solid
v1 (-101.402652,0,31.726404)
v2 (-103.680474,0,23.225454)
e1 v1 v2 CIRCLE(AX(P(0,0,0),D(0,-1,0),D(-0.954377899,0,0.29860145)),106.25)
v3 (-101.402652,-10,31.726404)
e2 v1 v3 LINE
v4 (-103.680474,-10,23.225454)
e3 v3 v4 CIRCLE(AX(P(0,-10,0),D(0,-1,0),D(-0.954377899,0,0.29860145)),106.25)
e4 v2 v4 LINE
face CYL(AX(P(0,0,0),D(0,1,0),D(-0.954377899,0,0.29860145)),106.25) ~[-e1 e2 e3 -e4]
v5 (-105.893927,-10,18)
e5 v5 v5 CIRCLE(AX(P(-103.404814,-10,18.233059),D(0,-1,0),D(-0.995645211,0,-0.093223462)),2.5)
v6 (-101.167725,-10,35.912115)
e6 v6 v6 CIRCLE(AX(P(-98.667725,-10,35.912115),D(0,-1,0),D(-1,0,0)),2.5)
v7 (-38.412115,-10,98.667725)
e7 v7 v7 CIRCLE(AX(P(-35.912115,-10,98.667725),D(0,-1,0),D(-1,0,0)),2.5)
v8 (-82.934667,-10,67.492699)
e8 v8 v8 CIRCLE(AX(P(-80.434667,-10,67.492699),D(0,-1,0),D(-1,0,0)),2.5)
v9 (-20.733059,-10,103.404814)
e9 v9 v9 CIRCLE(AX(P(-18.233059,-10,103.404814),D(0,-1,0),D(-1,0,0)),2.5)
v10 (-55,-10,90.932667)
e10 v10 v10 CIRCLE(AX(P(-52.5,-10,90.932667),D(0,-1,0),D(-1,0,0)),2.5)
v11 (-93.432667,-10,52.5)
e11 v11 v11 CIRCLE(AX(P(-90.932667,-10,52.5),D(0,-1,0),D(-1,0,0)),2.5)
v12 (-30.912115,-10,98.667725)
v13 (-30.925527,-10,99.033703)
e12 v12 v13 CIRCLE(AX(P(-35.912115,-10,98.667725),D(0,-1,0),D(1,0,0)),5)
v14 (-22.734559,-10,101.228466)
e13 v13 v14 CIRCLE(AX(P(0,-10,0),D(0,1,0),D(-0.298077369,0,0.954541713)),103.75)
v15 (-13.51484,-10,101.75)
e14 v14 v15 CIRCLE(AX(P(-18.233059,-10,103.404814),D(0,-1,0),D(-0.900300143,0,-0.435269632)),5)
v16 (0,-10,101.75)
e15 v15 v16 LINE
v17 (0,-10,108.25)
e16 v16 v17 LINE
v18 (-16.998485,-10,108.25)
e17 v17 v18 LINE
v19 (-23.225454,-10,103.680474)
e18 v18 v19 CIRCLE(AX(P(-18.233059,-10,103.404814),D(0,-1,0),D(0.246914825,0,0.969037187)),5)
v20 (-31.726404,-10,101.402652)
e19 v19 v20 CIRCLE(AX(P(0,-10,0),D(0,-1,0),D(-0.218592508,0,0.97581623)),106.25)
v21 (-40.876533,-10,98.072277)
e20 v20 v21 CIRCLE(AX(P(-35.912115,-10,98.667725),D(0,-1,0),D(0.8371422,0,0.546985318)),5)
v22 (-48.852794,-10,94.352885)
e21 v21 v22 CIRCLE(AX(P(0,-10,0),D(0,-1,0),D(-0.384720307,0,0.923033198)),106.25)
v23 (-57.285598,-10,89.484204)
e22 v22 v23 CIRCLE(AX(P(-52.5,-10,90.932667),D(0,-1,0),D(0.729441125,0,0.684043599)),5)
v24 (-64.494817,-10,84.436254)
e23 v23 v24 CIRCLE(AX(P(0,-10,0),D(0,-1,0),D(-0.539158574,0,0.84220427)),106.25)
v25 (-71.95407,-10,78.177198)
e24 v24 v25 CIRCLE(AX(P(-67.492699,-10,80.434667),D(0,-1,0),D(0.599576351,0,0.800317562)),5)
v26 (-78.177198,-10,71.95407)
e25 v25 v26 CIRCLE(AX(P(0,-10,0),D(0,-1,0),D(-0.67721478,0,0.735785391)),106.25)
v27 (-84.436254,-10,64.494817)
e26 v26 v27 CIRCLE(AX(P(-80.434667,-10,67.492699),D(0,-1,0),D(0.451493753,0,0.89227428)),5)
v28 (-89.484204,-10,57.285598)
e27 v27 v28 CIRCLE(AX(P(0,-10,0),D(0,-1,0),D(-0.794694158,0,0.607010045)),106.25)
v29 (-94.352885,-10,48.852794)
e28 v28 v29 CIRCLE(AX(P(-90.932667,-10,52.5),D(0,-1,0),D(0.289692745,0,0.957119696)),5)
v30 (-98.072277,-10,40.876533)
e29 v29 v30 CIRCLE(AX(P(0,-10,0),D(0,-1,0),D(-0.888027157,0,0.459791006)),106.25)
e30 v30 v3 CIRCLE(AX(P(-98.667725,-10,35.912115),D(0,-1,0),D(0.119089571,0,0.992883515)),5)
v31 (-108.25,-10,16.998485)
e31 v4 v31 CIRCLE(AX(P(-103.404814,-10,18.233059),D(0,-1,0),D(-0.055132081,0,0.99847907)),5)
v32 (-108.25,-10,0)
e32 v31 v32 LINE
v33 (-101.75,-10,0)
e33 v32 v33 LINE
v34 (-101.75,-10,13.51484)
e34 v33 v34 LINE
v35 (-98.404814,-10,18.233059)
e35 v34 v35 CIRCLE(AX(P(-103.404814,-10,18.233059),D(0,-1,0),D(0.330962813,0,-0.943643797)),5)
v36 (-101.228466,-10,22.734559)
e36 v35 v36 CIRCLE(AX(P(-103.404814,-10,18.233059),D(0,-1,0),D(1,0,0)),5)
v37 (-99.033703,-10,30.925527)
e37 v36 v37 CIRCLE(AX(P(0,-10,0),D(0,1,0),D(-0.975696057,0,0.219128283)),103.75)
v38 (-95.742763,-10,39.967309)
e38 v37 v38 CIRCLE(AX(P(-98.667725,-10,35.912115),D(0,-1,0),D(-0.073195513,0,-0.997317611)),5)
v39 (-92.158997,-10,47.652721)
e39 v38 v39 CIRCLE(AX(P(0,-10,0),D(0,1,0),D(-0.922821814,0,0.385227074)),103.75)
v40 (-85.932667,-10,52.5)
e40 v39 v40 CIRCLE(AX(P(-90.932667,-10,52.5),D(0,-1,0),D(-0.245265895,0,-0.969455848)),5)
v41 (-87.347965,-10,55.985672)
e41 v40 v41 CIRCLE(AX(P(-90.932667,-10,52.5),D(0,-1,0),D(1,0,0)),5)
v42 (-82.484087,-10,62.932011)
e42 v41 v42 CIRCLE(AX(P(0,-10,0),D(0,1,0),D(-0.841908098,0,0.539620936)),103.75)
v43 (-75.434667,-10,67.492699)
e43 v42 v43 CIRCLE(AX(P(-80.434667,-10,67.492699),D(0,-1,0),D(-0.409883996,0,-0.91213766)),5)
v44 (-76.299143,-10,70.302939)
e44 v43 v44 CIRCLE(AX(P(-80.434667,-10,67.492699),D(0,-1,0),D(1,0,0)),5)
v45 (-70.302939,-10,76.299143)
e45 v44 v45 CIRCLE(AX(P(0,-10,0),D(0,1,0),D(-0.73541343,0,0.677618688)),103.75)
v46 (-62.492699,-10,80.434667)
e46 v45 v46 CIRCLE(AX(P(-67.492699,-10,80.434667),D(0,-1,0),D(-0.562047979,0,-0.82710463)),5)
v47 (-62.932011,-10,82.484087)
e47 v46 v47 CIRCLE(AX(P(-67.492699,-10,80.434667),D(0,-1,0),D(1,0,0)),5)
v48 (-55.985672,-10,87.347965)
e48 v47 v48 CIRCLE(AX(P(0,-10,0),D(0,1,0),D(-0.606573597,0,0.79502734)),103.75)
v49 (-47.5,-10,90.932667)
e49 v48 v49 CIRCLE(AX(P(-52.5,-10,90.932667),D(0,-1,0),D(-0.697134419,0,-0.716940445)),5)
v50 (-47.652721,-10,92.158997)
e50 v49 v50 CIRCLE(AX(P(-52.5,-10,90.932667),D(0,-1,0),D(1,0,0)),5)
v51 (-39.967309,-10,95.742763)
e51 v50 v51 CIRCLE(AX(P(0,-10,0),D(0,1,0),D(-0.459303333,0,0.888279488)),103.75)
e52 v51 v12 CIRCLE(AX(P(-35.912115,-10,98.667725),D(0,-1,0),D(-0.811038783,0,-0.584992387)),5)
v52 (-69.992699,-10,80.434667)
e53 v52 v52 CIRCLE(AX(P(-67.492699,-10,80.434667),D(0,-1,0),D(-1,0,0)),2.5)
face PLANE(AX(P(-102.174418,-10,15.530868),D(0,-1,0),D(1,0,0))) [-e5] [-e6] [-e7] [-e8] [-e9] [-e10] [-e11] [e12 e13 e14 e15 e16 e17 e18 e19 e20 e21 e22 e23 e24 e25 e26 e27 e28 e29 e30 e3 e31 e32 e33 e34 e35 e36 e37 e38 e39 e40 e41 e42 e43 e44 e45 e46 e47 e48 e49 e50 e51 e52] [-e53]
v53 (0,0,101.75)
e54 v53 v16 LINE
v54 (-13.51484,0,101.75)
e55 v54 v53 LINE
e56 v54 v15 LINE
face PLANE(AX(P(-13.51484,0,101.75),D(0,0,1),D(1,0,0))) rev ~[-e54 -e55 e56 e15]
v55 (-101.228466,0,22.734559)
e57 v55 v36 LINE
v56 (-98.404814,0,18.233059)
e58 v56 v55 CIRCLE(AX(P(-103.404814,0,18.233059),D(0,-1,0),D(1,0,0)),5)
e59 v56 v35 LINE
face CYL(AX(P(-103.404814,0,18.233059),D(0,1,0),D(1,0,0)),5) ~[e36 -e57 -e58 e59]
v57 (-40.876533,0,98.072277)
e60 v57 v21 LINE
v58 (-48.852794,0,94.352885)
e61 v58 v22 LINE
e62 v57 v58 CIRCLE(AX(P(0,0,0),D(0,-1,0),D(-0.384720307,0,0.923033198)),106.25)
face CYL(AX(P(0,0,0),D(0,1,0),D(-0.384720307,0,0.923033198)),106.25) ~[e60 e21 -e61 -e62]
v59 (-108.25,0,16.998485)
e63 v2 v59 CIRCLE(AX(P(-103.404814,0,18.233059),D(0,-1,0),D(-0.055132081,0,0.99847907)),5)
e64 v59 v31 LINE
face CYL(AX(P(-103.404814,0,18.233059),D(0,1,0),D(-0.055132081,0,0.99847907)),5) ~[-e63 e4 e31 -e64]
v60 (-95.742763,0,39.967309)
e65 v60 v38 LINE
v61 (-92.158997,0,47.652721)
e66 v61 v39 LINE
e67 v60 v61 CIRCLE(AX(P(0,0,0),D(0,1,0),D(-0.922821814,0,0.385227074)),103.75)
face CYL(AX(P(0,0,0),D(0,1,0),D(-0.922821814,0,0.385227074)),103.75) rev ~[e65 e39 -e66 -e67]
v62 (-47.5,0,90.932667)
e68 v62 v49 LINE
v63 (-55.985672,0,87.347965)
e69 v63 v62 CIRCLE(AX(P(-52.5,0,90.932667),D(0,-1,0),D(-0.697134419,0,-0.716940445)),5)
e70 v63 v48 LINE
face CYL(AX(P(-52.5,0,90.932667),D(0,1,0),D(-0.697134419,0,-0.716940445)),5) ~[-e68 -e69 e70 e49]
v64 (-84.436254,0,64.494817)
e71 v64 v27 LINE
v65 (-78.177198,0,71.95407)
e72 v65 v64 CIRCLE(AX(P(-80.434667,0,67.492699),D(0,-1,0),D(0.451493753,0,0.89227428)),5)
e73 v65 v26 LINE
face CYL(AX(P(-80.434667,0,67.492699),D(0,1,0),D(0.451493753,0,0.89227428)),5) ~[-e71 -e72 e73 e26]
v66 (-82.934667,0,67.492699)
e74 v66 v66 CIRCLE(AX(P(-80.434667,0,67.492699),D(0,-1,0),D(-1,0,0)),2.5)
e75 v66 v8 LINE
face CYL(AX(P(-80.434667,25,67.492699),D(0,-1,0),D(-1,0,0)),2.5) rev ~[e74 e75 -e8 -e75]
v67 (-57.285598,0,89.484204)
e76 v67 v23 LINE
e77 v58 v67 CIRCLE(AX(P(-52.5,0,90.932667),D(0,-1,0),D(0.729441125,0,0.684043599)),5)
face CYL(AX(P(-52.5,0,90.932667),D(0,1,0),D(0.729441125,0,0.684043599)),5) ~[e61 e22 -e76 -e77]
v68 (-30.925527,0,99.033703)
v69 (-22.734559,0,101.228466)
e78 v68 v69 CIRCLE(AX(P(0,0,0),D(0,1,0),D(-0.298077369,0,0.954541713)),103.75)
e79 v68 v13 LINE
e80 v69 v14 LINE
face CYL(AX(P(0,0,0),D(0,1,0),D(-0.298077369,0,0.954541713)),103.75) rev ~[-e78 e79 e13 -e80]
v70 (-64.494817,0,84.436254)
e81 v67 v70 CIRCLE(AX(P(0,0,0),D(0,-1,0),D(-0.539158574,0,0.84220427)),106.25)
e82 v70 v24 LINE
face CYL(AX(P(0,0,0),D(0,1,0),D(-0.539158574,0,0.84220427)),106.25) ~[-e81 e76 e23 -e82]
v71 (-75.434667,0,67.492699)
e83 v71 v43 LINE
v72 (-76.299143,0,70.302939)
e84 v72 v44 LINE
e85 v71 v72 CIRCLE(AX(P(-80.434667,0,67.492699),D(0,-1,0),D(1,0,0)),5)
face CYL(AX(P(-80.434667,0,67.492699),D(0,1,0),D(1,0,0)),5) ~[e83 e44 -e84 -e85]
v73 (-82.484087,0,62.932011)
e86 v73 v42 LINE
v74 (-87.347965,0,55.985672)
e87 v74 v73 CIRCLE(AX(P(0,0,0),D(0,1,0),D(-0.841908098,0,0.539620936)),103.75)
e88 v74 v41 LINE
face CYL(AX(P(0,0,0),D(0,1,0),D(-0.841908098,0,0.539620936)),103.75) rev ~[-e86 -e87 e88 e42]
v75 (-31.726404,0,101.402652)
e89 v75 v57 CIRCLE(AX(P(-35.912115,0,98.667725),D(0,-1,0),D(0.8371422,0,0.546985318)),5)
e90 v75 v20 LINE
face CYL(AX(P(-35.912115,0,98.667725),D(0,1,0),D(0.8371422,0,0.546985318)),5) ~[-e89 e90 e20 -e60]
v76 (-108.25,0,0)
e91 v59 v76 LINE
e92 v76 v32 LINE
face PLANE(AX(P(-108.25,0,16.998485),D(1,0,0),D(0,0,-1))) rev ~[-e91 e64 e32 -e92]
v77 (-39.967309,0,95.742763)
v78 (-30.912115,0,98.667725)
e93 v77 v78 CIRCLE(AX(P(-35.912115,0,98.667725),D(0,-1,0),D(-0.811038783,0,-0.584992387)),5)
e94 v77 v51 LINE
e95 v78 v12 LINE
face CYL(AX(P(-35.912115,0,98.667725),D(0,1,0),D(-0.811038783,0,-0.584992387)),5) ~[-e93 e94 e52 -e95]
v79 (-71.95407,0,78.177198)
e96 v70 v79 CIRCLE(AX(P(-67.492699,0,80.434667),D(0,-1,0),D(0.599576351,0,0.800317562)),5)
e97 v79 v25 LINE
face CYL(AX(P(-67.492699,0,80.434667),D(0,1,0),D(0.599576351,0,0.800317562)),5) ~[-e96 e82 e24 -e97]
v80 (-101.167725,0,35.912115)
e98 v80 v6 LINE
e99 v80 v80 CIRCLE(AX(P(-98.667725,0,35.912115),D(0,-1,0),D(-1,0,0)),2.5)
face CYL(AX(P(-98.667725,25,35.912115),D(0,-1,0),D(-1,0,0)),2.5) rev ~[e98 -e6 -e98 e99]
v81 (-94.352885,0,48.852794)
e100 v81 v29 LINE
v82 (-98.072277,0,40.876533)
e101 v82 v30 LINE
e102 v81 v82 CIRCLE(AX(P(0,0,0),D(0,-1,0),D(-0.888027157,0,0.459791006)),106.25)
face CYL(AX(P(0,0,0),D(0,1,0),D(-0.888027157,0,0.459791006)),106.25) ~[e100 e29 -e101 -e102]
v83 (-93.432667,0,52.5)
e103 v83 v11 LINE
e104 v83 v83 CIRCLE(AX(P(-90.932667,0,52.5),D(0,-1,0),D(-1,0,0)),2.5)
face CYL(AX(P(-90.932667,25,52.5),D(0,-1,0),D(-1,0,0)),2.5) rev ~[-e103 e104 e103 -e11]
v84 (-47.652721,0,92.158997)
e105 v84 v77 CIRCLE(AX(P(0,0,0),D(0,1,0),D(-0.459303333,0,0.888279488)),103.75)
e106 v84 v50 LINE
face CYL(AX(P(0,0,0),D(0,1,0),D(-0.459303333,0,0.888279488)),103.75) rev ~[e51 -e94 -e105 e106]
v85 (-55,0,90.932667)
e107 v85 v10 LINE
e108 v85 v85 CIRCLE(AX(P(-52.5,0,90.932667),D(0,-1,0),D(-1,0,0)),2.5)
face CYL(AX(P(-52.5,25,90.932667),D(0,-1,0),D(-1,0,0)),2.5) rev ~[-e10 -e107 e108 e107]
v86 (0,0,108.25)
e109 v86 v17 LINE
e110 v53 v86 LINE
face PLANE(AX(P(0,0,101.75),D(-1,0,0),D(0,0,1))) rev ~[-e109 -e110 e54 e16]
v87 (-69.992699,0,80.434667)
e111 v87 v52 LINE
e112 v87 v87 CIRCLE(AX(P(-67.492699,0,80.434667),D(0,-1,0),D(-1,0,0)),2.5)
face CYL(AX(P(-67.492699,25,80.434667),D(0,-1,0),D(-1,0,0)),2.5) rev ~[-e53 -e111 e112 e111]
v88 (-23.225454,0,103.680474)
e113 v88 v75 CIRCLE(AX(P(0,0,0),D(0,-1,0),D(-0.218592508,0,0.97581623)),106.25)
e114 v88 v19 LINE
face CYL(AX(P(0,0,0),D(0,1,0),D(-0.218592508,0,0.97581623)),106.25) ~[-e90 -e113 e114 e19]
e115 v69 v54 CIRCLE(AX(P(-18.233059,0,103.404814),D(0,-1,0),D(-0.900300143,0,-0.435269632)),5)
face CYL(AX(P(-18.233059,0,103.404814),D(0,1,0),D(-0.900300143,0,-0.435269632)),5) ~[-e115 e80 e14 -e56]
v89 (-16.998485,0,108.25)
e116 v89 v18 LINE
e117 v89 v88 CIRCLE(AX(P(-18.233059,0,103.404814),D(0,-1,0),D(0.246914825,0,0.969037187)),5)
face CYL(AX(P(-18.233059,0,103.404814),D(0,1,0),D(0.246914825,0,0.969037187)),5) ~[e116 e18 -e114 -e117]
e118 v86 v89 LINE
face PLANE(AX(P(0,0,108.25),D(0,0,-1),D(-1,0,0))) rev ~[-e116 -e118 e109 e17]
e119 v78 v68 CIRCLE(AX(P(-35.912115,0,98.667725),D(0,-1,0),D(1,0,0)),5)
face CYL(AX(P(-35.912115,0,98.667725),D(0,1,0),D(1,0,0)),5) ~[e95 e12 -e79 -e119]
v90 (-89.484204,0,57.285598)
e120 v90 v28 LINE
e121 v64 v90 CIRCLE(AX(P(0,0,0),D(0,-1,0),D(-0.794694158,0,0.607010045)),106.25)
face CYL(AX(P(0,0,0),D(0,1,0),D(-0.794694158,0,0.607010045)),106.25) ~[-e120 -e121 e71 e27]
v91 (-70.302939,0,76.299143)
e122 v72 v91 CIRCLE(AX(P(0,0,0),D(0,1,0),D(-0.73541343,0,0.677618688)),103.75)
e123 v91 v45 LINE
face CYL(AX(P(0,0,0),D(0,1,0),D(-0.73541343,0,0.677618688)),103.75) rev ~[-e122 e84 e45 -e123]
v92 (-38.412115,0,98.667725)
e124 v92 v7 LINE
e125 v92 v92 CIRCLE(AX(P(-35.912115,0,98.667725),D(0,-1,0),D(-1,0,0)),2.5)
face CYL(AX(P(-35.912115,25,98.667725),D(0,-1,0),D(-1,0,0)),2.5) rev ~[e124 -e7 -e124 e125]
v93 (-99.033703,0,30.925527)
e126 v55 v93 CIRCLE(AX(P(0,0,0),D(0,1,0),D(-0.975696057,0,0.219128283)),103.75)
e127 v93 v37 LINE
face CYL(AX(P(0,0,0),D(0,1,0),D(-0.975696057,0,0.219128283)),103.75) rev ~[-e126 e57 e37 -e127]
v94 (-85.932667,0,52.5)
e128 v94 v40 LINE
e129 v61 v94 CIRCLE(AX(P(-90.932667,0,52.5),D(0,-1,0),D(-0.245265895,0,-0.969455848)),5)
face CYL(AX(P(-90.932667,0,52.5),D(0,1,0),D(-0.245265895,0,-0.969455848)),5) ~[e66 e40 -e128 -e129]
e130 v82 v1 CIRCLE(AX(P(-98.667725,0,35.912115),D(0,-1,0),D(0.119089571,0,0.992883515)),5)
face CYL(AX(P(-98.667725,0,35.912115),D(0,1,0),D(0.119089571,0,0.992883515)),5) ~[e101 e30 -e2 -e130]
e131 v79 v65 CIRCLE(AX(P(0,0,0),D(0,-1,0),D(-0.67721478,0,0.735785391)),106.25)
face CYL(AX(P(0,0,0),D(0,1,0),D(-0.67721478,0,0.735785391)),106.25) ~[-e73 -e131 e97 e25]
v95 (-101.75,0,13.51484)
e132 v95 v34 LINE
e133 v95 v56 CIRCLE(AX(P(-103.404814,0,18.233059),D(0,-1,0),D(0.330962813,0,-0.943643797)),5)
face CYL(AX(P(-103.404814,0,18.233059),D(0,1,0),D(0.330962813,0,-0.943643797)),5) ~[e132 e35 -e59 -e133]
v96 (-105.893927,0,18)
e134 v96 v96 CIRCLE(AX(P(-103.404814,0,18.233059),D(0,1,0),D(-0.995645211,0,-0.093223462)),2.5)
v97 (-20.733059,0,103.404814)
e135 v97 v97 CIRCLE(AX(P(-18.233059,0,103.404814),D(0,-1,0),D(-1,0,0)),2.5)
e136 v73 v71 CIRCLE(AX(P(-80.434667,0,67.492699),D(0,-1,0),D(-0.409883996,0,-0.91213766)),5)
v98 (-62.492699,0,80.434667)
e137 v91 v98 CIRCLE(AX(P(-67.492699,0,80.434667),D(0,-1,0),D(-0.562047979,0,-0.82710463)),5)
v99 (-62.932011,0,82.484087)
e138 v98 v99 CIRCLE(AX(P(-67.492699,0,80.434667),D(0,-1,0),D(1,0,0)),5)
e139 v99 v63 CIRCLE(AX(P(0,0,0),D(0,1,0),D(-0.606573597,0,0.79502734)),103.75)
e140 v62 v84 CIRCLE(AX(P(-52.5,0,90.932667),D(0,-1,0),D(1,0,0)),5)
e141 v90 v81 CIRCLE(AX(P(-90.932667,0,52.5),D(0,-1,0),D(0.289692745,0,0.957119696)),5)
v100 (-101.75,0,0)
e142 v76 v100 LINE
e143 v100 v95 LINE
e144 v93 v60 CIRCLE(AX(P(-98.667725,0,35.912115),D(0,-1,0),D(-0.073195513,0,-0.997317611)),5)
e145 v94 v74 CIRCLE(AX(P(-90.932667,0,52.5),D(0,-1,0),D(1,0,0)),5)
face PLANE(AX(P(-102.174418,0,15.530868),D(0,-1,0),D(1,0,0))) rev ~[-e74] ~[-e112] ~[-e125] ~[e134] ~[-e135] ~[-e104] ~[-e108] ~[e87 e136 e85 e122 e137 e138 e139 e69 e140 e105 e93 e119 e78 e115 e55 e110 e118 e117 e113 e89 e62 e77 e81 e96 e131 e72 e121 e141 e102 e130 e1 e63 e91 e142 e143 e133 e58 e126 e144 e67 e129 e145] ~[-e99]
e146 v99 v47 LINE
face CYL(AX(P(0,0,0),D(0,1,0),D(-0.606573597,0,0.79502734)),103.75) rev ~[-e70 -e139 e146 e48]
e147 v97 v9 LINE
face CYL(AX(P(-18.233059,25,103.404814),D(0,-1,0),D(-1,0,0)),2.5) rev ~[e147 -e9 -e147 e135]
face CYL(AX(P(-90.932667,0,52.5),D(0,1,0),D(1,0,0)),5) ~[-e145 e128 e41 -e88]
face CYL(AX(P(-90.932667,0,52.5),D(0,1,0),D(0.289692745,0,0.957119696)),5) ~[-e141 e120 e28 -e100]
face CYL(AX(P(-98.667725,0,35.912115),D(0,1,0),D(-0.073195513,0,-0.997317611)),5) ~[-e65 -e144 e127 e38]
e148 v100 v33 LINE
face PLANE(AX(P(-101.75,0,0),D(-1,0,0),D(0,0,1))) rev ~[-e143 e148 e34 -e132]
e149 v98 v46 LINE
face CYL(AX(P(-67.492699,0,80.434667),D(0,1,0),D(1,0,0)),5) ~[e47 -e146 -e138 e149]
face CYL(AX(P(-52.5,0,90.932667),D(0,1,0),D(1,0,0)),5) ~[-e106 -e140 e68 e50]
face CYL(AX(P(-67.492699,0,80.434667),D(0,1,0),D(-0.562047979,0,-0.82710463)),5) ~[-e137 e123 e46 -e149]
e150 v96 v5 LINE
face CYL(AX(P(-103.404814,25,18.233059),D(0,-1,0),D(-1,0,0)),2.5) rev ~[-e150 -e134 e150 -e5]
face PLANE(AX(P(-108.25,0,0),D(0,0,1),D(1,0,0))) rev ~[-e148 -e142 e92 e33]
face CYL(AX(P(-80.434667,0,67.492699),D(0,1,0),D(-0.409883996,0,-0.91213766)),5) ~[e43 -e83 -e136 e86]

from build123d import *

# Parameters (mm, degrees)
F1_DEPTH = 10
F2_D     = 5
F2_DEPTH = 25
F2_TIP   = 1.5021515476
F3_DEPTH = 10
F4_D     = 5
F4_DEPTH = 25
F4_TIP   = 1.5021515476


with BuildPart() as f1:
    # F0 (on Front) → F1 (new body)
    with BuildSketch(Plane.XZ):
        with BuildLine():
            ThreePointArc((-104.7141943578, 18), (-104.2300860658, 20.6192060639), (-103.6804744694, 23.2254540062))
            ThreePointArc((-103.6804744694, 23.2254540062), (-107.4358876221, 21.1911739312), (-108.25, 16.998484531))
            Line((-108.25, 16.998484531), (-108.25, 18))
            Line((-108.25, 18), (-104.7141943578, 18))
        make_face()
        with BuildLine():
            ThreePointArc((-101.75, 13.5148396684), (-99.325961879, 15.3411795368), (-98.4048140663, 18.233058655))
            ThreePointArc((-98.4048140663, 18.233058655), (-99.1691476023, 20.8899609125), (-101.2284659086, 22.7345593711))
            ThreePointArc((-101.2284659086, 22.7345593711), (-101.7300922405, 20.37279639), (-102.176624039, 18))
            Line((-102.176624039, 18), (-101.75, 18))
            Line((-101.75, 18), (-101.75, 13.5148396684))
        make_face()
        with BuildLine():
            ThreePointArc((-103.6804744694, 23.2254540062), (-102.4232857321, 23.1357724065), (-101.2284659086, 22.7345593711))
            ThreePointArc((-101.2284659086, 22.7345593711), (-100.2148044775, 26.8524759294), (-99.0337027485, 30.9255269951))
            ThreePointArc((-99.0337027485, 30.9255269951), (-100.2690535864, 31.1754762258), (-101.40265177, 31.7264040509))
            ThreePointArc((-101.40265177, 31.7264040509), (-102.6296190432, 27.4995235421), (-103.6804744694, 23.2254540062))
        make_face()
        with BuildLine():
            ThreePointArc((-102.176624039, 18), (-101.7300922405, 20.37279639), (-101.2284659086, 22.7345593711))
            ThreePointArc((-101.2284659086, 22.7345593711), (-102.4232857321, 23.1357724065), (-103.6804744694, 23.2254540062))
            ThreePointArc((-103.6804744694, 23.2254540062), (-104.2300860658, 20.6192060639), (-104.7141943578, 18))
            Line((-104.7141943578, 18), (-102.176624039, 18))
        make_face()
        with BuildLine():
            ThreePointArc((-98.0722773298, 40.8765326238), (-103.3661882864, 37.6222157658), (-101.40265177, 31.7264040509))
            ThreePointArc((-101.40265177, 31.7264040509), (-99.8423409585, 36.3396402284), (-98.0722773298, 40.8765326238))
        make_face()
        with BuildLine():
            ThreePointArc((-101.40265177, 31.7264040509), (-100.2690535864, 31.1754762258), (-99.0337027485, 30.9255269951))
            ThreePointArc((-99.0337027485, 30.9255269951), (-97.4931094065, 35.48458987), (-95.7427632475, 39.967308963))
            ThreePointArc((-95.7427632475, 39.967308963), (-96.8497611607, 40.5699049559), (-98.0722773298, 40.8765326238))
            ThreePointArc((-98.0722773298, 40.8765326238), (-99.8423409585, 36.3396402284), (-101.40265177, 31.7264040509))
        make_face()
        with BuildLine():
            ThreePointArc((-95.7427632475, 39.967308963), (-97.4931094065, 35.48458987), (-99.0337027485, 30.9255269951))
            ThreePointArc((-99.0337027485, 30.9255269951), (-95.2640424586, 32.2494733912), (-93.6677251825, 35.9121150492))
            ThreePointArc((-93.6677251825, 35.9121150492), (-94.2166124185, 38.1897443347), (-95.7427632475, 39.967308963))
        make_face()
        with BuildLine():
            Line((-18, 108.25), (-16.998484531, 108.25))
            ThreePointArc((-16.998484531, 108.25), (-21.1911739312, 107.4358876221), (-23.2254540062, 103.6804744694))
            ThreePointArc((-23.2254540062, 103.6804744694), (-20.6192060639, 104.2300860658), (-18, 104.7141943578))
            Line((-18, 104.7141943578), (-18, 108.25))
        make_face()
        with BuildLine():
            ThreePointArc((-22.7345593711, 101.2284659086), (-20.37279639, 101.7300922405), (-18, 102.176624039))
            Line((-18, 102.176624039), (-18, 104.7141943578))
            ThreePointArc((-18, 104.7141943578), (-20.6192060639, 104.2300860658), (-23.2254540062, 103.6804744694))
            ThreePointArc((-23.2254540062, 103.6804744694), (-23.1357724065, 102.4232857321), (-22.7345593711, 101.2284659086))
        make_face()
        with BuildLine():
            ThreePointArc((-22.7345593711, 101.2284659086), (-17.9506738921, 98.4127945505), (-13.5148396684, 101.75))
            Line((-13.5148396684, 101.75), (-18, 101.75))
            Line((-18, 101.75), (-18, 102.176624039))
            ThreePointArc((-18, 102.176624039), (-20.37279639, 101.7300922405), (-22.7345593711, 101.2284659086))
        make_face()
        with BuildLine():
            ThreePointArc((-30.9255269951, 99.0337027485), (-26.8524759294, 100.2148044775), (-22.7345593711, 101.2284659086))
            ThreePointArc((-22.7345593711, 101.2284659086), (-23.1357724065, 102.4232857321), (-23.2254540062, 103.6804744694))
            ThreePointArc((-23.2254540062, 103.6804744694), (-27.4995235421, 102.6296190432), (-31.7264040509, 101.40265177))
            ThreePointArc((-31.7264040509, 101.40265177), (-31.1754762258, 100.2690535864), (-30.9255269951, 99.0337027485))
        make_face()
        with BuildLine():
            ThreePointArc((-39.967308963, 95.7427632475), (-35.48458987, 97.4931094065), (-30.9255269951, 99.0337027485))
            ThreePointArc((-30.9255269951, 99.0337027485), (-31.1754762258, 100.2690535864), (-31.7264040509, 101.40265177))
            ThreePointArc((-31.7264040509, 101.40265177), (-36.3396402284, 99.8423409585), (-40.8765326238, 98.0722773298))
            ThreePointArc((-40.8765326238, 98.0722773298), (-40.5699049559, 96.8497611607), (-39.967308963, 95.7427632475))
        make_face()
        with BuildLine():
            ThreePointArc((-40.8765326238, 98.0722773298), (-36.3396402284, 99.8423409585), (-31.7264040509, 101.40265177))
            ThreePointArc((-31.7264040509, 101.40265177), (-37.6222157658, 103.3661882864), (-40.8765326238, 98.0722773298))
        make_face()
        with BuildLine():
            ThreePointArc((-30.9121150492, 98.6677251825), (-30.9154691607, 98.8508368009), (-30.9255269951, 99.0337027485))
            ThreePointArc((-30.9255269951, 99.0337027485), (-35.48458987, 97.4931094065), (-39.967308963, 95.7427632475))
            ThreePointArc((-39.967308963, 95.7427632475), (-34.3752301428, 93.9097860505), (-30.9121150492, 98.6677251825))
        make_face()
        with BuildLine():
            ThreePointArc((-47.6527207606, 92.1589968701), (-51.875, 89.8501356426), (-55.9856720965, 87.3479651732))
            ThreePointArc((-55.9856720965, 87.3479651732), (-50.5542816857, 86.3267820057), (-47.5, 90.9326673974))
            ThreePointArc((-47.5, 90.9326673974), (-47.5383270867, 91.5505686044), (-47.6527207606, 92.1589968701))
        make_face()
        with BuildLine():
            ThreePointArc((-48.852794375, 94.3528853918), (-48.1133891227, 93.3321767245), (-47.6527207606, 92.1589968701))
            ThreePointArc((-47.6527207606, 92.1589968701), (-43.8466446556, 94.0294329051), (-39.967308963, 95.7427632475))
            ThreePointArc((-39.967308963, 95.7427632475), (-40.5699049559, 96.8497611607), (-40.8765326238, 98.0722773298))
            ThreePointArc((-40.8765326238, 98.0722773298), (-44.9031903099, 96.2952023726), (-48.852794375, 94.3528853918))
        make_face()
        with BuildLine():
            ThreePointArc((-57.2855984821, 89.4842036705), (-56.7713414726, 88.3335056047), (-55.9856720965, 87.3479651732))
            ThreePointArc((-55.9856720965, 87.3479651732), (-51.875, 89.8501356426), (-47.6527207606, 92.1589968701))
            ThreePointArc((-47.6527207606, 92.1589968701), (-48.1133891227, 93.3321767245), (-48.852794375, 94.3528853918))
            ThreePointArc((-48.852794375, 94.3528853918), (-53.125, 92.0151991521), (-57.2855984821, 89.4842036705))
        make_face()
        with BuildLine():
            ThreePointArc((-48.852794375, 94.3528853918), (-55, 95.2627944163), (-57.2855984821, 89.4842036705))
            ThreePointArc((-57.2855984821, 89.4842036705), (-53.125, 92.0151991521), (-48.852794375, 94.3528853918))
        make_face()
        with BuildLine():
            ThreePointArc((-64.4948172627, 84.4362543357), (-63.5894010376, 83.5594489013), (-62.9320107193, 82.4840865066))
            ThreePointArc((-62.9320107193, 82.4840865066), (-59.5085552714, 84.987024595), (-55.9856720965, 87.3479651732))
            ThreePointArc((-55.9856720965, 87.3479651732), (-56.7713414726, 88.3335056047), (-57.2855984821, 89.4842036705))
            ThreePointArc((-57.2855984821, 89.4842036705), (-60.9424963623, 87.0349047057), (-64.4948172627, 84.4362543357))
        make_face()
        with BuildLine():
            ThreePointArc((-64.4948172627, 84.4362543357), (-70.7066370655, 84.2648887431), (-71.9540704185, 78.1771977639))
            ThreePointArc((-71.9540704185, 78.1771977639), (-68.2961835292, 81.3922220814), (-64.4948172627, 84.4362543357))
        make_face()
        with BuildLine():
            ThreePointArc((-62.9320107193, 82.4840865066), (-66.689214505, 79.4771109736), (-70.3029389135, 76.2991433774))
            ThreePointArc((-70.3029389135, 76.2991433774), (-65.152955386, 76.0158884452), (-62.4926990171, 80.4346665275))
            ThreePointArc((-62.4926990171, 80.4346665275), (-62.6037604059, 81.4826547219), (-62.9320107193, 82.4840865066))
        make_face()
        with BuildLine():
            ThreePointArc((-71.9540704185, 78.1771977639), (-71.2478095063, 77.1332811798), (-70.3029389135, 76.2991433774))
            ThreePointArc((-70.3029389135, 76.2991433774), (-66.689214505, 79.4771109736), (-62.9320107193, 82.4840865066))
            ThreePointArc((-62.9320107193, 82.4840865066), (-63.5894010376, 83.5594489013), (-64.4948172627, 84.4362543357))
            ThreePointArc((-64.4948172627, 84.4362543357), (-68.2961835292, 81.3922220814), (-71.9540704185, 78.1771977639))
        make_face()
        with BuildLine():
            ThreePointArc((-78.1771977639, 71.9540704185), (-77.1332811798, 71.2478095063), (-76.2991433774, 70.3029389135))
            ThreePointArc((-76.2991433774, 70.3029389135), (-73.3623285481, 73.3623285481), (-70.3029389135, 76.2991433774))
            ThreePointArc((-70.3029389135, 76.2991433774), (-71.2478095063, 77.1332811798), (-71.9540704185, 78.1771977639))
            ThreePointArc((-71.9540704185, 78.1771977639), (-75.1300955011, 75.1300955011), (-78.1771977639, 71.9540704185))
        make_face()
        with BuildLine():
            ThreePointArc((-84.4362543357, 64.4948172627), (-83.5594489013, 63.5894010376), (-82.4840865066, 62.9320107193))
            ThreePointArc((-82.4840865066, 62.9320107193), (-79.4771109736, 66.689214505), (-76.2991433774, 70.3029389135))
            ThreePointArc((-76.2991433774, 70.3029389135), (-77.1332811798, 71.2478095063), (-78.1771977639, 71.9540704185))
            ThreePointArc((-78.1771977639, 71.9540704185), (-81.3922220814, 68.2961835292), (-84.4362543357, 64.4948172627))
        make_face()
        with BuildLine():
            ThreePointArc((-76.2991433774, 70.3029389135), (-79.4771109736, 66.689214505), (-82.4840865066, 62.9320107193))
            ThreePointArc((-82.4840865066, 62.9320107193), (-77.7187044415, 63.2946578134), (-75.4346665275, 67.4926990171))
            ThreePointArc((-75.4346665275, 67.4926990171), (-75.6556699932, 68.9627983759), (-76.2991433774, 70.3029389135))
        make_face()
        with BuildLine():
            ThreePointArc((-78.1771977639, 71.9540704185), (-84.2648887431, 70.7066370655), (-84.4362543357, 64.4948172627))
            ThreePointArc((-84.4362543357, 64.4948172627), (-81.3922220814, 68.2961835292), (-78.1771977639, 71.9540704185))
        make_face()
        with BuildLine():
            ThreePointArc((-89.4842036705, 57.2855984821), (-88.3335056047, 56.7713414726), (-87.3479651732, 55.9856720965))
            ThreePointArc((-87.3479651732, 55.9856720965), (-84.987024595, 59.5085552714), (-82.4840865066, 62.9320107193))
            ThreePointArc((-82.4840865066, 62.9320107193), (-83.5594489013, 63.5894010376), (-84.4362543357, 64.4948172627))
            ThreePointArc((-84.4362543357, 64.4948172627), (-87.0349047057, 60.9424963623), (-89.4842036705, 57.2855984821))
        make_face()
        with BuildLine():
            ThreePointArc((-89.4842036705, 57.2855984821), (-95.2627944163, 55), (-94.3528853918, 48.852794375))
            ThreePointArc((-94.3528853918, 48.852794375), (-92.0151991521, 53.125), (-89.4842036705, 57.2855984821))
        make_face()
        with BuildLine():
            ThreePointArc((-94.3528853918, 48.852794375), (-93.3321767245, 48.1133891227), (-92.1589968701, 47.6527207606))
            ThreePointArc((-92.1589968701, 47.6527207606), (-89.8501356426, 51.875), (-87.3479651732, 55.9856720965))
            ThreePointArc((-87.3479651732, 55.9856720965), (-88.3335056047, 56.7713414726), (-89.4842036705, 57.2855984821))
            ThreePointArc((-89.4842036705, 57.2855984821), (-92.0151991521, 53.125), (-94.3528853918, 48.852794375))
        make_face()
        with BuildLine():
            ThreePointArc((-87.3479651732, 55.9856720965), (-89.8501356426, 51.875), (-92.1589968701, 47.6527207606))
            ThreePointArc((-92.1589968701, 47.6527207606), (-87.8611569679, 48.5546453034), (-85.9326673974, 52.5))
            ThreePointArc((-85.9326673974, 52.5), (-86.2999839892, 54.3810221795), (-87.3479651732, 55.9856720965))
        make_face()
        with BuildLine():
            ThreePointArc((-98.0722773298, 40.8765326238), (-96.8497611607, 40.5699049559), (-95.7427632475, 39.967308963))
            ThreePointArc((-95.7427632475, 39.967308963), (-94.0294329051, 43.8466446556), (-92.1589968701, 47.6527207606))
            ThreePointArc((-92.1589968701, 47.6527207606), (-93.3321767245, 48.1133891227), (-94.3528853918, 48.852794375))
            ThreePointArc((-94.3528853918, 48.852794375), (-96.2952023726, 44.9031903099), (-98.0722773298, 40.8765326238))
        make_face()
        with BuildLine():
            ThreePointArc((-18, 104.7141943578), (-15.8214238003, 105.0654322265), (-13.6360229941, 105.3713498865))
            ThreePointArc((-13.6360229941, 105.3713498865), (-14.9813552876, 107.2030274897), (-16.998484531, 108.25))
            Line((-16.998484531, 108.25), (-18, 108.25))
            Line((-18, 108.25), (-18, 104.7141943578))
        make_face()
        with BuildLine():
            ThreePointArc((-13.6360229941, 105.3713498865), (-6.8321509995, 106.0301099345), (0, 106.25))
            Line((0, 106.25), (0, 108.25))
            Line((0, 108.25), (-16.998484531, 108.25))
            ThreePointArc((-16.998484531, 108.25), (-14.9813552876, 107.2030274897), (-13.6360229941, 105.3713498865))
        make_face()
        with BuildLine():
            ThreePointArc((-13.2586767409, 102.8993196823), (-6.6429693271, 103.5371115037), (0, 103.75))
            Line((0, 103.75), (0, 106.25))
            ThreePointArc((0, 106.25), (-6.8321509995, 106.0301099345), (-13.6360229941, 105.3713498865))
            ThreePointArc((-13.6360229941, 105.3713498865), (-13.3348355943, 104.4085126504), (-13.233058655, 103.4048140663))
            ThreePointArc((-13.233058655, 103.4048140663), (-13.2394672835, 103.151742506), (-13.2586767409, 102.8993196823))
        make_face()
        with BuildLine():
            ThreePointArc((-13.5148396684, 101.75), (-13.3528064086, 102.3170925893), (-13.2586767409, 102.8993196823))
            ThreePointArc((-13.2586767409, 102.8993196823), (-15.6335149645, 102.5653728597), (-18, 102.176624039))
            Line((-18, 102.176624039), (-18, 101.75))
            Line((-18, 101.75), (-13.5148396684, 101.75))
        make_face()
        with BuildLine():
            ThreePointArc((-18, 102.176624039), (-15.6335149645, 102.5653728597), (-13.2586767409, 102.8993196823))
            ThreePointArc((-13.2586767409, 102.8993196823), (-13.2394672835, 103.151742506), (-13.233058655, 103.4048140663))
            ThreePointArc((-13.233058655, 103.4048140663), (-13.3348355943, 104.4085126504), (-13.6360229941, 105.3713498865))
            ThreePointArc((-13.6360229941, 105.3713498865), (-15.8214238003, 105.0654322265), (-18, 104.7141943578))
            Line((-18, 104.7141943578), (-18, 102.176624039))
        make_face()
        with BuildLine():
            Line((0, 101.75), (0, 103.75))
            ThreePointArc((0, 103.75), (-6.6429693271, 103.5371115037), (-13.2586767409, 102.8993196823))
            ThreePointArc((-13.2586767409, 102.8993196823), (-13.3528064086, 102.3170925893), (-13.5148396684, 101.75))
            Line((-13.5148396684, 101.75), (0, 101.75))
        make_face()
        with BuildLine():
            Line((-108.25, 18), (-108.25, 16.998484531))
            ThreePointArc((-108.25, 16.998484531), (-107.2030274897, 14.9813552876), (-105.3713498865, 13.6360229941))
            ThreePointArc((-105.3713498865, 13.6360229941), (-105.0654322265, 15.8214238003), (-104.7141943578, 18))
            Line((-104.7141943578, 18), (-108.25, 18))
        make_face()
        with BuildLine():
            ThreePointArc((-102.8993196823, 13.2586767409), (-102.5653728597, 15.6335149645), (-102.176624039, 18))
            Line((-102.176624039, 18), (-104.7141943578, 18))
            ThreePointArc((-104.7141943578, 18), (-105.0654322265, 15.8214238003), (-105.3713498865, 13.6360229941))
            ThreePointArc((-105.3713498865, 13.6360229941), (-104.1593059935, 13.2903122594), (-102.8993196823, 13.2586767409))
        make_face()
        with BuildLine():
            ThreePointArc((-105.3713498865, 13.6360229941), (-107.2030274897, 14.9813552876), (-108.25, 16.998484531))
            Line((-108.25, 16.998484531), (-108.25, 0))
            Line((-108.25, 0), (-106.25, 0))
            ThreePointArc((-106.25, 0), (-106.0301099345, 6.8321509995), (-105.3713498865, 13.6360229941))
        make_face()
        with BuildLine():
            Line((-101.75, 0), (-101.75, 13.5148396684))
            ThreePointArc((-101.75, 13.5148396684), (-102.3170925893, 13.3528064086), (-102.8993196823, 13.2586767409))
            ThreePointArc((-102.8993196823, 13.2586767409), (-103.5371115037, 6.6429693271), (-103.75, 0))
            Line((-103.75, 0), (-101.75, 0))
        make_face()
        with BuildLine():
            ThreePointArc((-102.8993196823, 13.2586767409), (-102.3170925893, 13.3528064086), (-101.75, 13.5148396684))
            Line((-101.75, 13.5148396684), (-101.75, 18))
            Line((-101.75, 18), (-102.176624039, 18))
            ThreePointArc((-102.176624039, 18), (-102.5653728597, 15.6335149645), (-102.8993196823, 13.2586767409))
        make_face()
        with BuildLine():
            ThreePointArc((-103.75, 0), (-103.5371115037, 6.6429693271), (-102.8993196823, 13.2586767409))
            ThreePointArc((-102.8993196823, 13.2586767409), (-104.1593059935, 13.2903122594), (-105.3713498865, 13.6360229941))
            ThreePointArc((-105.3713498865, 13.6360229941), (-106.0301099345, 6.8321509995), (-106.25, 0))
            Line((-106.25, 0), (-103.75, 0))
        make_face()
    extrude(amount=F1_DEPTH)

    # F2
    with Locations(Plane(origin=(0, 0, 0), x_dir=(1, 0, 0), z_dir=(0, 1, 0))):
        with Locations((-103.4048140663, -18.233058655), (-98.6677251825, -35.9121150492), (-90.9326673974, -52.5), (-80.4346665275, -67.4926990171), (-67.4926990171, -80.4346665275), (-52.5, -90.9326673974), (-35.9121150492, -98.6677251825), (-18.233058655, -103.4048140663)):
            Hole(F2_D / 2, depth=F2_DEPTH)
            with Locations((0, 0, -(F2_DEPTH + F2_TIP / 2))):  # 118° drill point
                Cone(0, F2_D / 2, F2_TIP, mode=Mode.SUBTRACT)

    # F0 (on Front) → F3 (join)
    with BuildSketch(Plane.XZ):
        with BuildLine():
            ThreePointArc((-102.8993196823, 13.2586767409), (-102.3170925893, 13.3528064086), (-101.75, 13.5148396684))
            Line((-101.75, 13.5148396684), (-101.75, 18))
            Line((-101.75, 18), (-102.176624039, 18))
            ThreePointArc((-102.176624039, 18), (-102.5653728597, 15.6335149645), (-102.8993196823, 13.2586767409))
        make_face()
        with BuildLine():
            ThreePointArc((-102.8993196823, 13.2586767409), (-102.5653728597, 15.6335149645), (-102.176624039, 18))
            Line((-102.176624039, 18), (-104.7141943578, 18))
            ThreePointArc((-104.7141943578, 18), (-105.0654322265, 15.8214238003), (-105.3713498865, 13.6360229941))
            ThreePointArc((-105.3713498865, 13.6360229941), (-104.1593059935, 13.2903122594), (-102.8993196823, 13.2586767409))
        make_face()
        with BuildLine():
            Line((-108.25, 18), (-108.25, 16.998484531))
            ThreePointArc((-108.25, 16.998484531), (-107.2030274897, 14.9813552876), (-105.3713498865, 13.6360229941))
            ThreePointArc((-105.3713498865, 13.6360229941), (-105.0654322265, 15.8214238003), (-104.7141943578, 18))
            Line((-104.7141943578, 18), (-108.25, 18))
        make_face()
        with BuildLine():
            ThreePointArc((-105.3713498865, 13.6360229941), (-107.2030274897, 14.9813552876), (-108.25, 16.998484531))
            Line((-108.25, 16.998484531), (-108.25, 0))
            Line((-108.25, 0), (-106.25, 0))
            ThreePointArc((-106.25, 0), (-106.0301099345, 6.8321509995), (-105.3713498865, 13.6360229941))
        make_face()
        with BuildLine():
            ThreePointArc((-103.75, 0), (-103.5371115037, 6.6429693271), (-102.8993196823, 13.2586767409))
            ThreePointArc((-102.8993196823, 13.2586767409), (-104.1593059935, 13.2903122594), (-105.3713498865, 13.6360229941))
            ThreePointArc((-105.3713498865, 13.6360229941), (-106.0301099345, 6.8321509995), (-106.25, 0))
            Line((-106.25, 0), (-103.75, 0))
        make_face()
        with BuildLine():
            Line((-101.75, 0), (-101.75, 13.5148396684))
            ThreePointArc((-101.75, 13.5148396684), (-102.3170925893, 13.3528064086), (-102.8993196823, 13.2586767409))
            ThreePointArc((-102.8993196823, 13.2586767409), (-103.5371115037, 6.6429693271), (-103.75, 0))
            Line((-103.75, 0), (-101.75, 0))
        make_face()
    extrude(amount=F3_DEPTH)

    # F4
    with Locations(Plane(origin=(0, 0, 0), x_dir=(1, 0, 0), z_dir=(0, 1, 0))):
        with Locations((-103.4048140663, -18.233058655)):
            Hole(F4_D / 2, depth=F4_DEPTH)
            with Locations((0, 0, -(F4_DEPTH + F4_TIP / 2))):  # 118° drill point
                Cone(0, F4_D / 2, F4_TIP, mode=Mode.SUBTRACT)


solid = f1.part
